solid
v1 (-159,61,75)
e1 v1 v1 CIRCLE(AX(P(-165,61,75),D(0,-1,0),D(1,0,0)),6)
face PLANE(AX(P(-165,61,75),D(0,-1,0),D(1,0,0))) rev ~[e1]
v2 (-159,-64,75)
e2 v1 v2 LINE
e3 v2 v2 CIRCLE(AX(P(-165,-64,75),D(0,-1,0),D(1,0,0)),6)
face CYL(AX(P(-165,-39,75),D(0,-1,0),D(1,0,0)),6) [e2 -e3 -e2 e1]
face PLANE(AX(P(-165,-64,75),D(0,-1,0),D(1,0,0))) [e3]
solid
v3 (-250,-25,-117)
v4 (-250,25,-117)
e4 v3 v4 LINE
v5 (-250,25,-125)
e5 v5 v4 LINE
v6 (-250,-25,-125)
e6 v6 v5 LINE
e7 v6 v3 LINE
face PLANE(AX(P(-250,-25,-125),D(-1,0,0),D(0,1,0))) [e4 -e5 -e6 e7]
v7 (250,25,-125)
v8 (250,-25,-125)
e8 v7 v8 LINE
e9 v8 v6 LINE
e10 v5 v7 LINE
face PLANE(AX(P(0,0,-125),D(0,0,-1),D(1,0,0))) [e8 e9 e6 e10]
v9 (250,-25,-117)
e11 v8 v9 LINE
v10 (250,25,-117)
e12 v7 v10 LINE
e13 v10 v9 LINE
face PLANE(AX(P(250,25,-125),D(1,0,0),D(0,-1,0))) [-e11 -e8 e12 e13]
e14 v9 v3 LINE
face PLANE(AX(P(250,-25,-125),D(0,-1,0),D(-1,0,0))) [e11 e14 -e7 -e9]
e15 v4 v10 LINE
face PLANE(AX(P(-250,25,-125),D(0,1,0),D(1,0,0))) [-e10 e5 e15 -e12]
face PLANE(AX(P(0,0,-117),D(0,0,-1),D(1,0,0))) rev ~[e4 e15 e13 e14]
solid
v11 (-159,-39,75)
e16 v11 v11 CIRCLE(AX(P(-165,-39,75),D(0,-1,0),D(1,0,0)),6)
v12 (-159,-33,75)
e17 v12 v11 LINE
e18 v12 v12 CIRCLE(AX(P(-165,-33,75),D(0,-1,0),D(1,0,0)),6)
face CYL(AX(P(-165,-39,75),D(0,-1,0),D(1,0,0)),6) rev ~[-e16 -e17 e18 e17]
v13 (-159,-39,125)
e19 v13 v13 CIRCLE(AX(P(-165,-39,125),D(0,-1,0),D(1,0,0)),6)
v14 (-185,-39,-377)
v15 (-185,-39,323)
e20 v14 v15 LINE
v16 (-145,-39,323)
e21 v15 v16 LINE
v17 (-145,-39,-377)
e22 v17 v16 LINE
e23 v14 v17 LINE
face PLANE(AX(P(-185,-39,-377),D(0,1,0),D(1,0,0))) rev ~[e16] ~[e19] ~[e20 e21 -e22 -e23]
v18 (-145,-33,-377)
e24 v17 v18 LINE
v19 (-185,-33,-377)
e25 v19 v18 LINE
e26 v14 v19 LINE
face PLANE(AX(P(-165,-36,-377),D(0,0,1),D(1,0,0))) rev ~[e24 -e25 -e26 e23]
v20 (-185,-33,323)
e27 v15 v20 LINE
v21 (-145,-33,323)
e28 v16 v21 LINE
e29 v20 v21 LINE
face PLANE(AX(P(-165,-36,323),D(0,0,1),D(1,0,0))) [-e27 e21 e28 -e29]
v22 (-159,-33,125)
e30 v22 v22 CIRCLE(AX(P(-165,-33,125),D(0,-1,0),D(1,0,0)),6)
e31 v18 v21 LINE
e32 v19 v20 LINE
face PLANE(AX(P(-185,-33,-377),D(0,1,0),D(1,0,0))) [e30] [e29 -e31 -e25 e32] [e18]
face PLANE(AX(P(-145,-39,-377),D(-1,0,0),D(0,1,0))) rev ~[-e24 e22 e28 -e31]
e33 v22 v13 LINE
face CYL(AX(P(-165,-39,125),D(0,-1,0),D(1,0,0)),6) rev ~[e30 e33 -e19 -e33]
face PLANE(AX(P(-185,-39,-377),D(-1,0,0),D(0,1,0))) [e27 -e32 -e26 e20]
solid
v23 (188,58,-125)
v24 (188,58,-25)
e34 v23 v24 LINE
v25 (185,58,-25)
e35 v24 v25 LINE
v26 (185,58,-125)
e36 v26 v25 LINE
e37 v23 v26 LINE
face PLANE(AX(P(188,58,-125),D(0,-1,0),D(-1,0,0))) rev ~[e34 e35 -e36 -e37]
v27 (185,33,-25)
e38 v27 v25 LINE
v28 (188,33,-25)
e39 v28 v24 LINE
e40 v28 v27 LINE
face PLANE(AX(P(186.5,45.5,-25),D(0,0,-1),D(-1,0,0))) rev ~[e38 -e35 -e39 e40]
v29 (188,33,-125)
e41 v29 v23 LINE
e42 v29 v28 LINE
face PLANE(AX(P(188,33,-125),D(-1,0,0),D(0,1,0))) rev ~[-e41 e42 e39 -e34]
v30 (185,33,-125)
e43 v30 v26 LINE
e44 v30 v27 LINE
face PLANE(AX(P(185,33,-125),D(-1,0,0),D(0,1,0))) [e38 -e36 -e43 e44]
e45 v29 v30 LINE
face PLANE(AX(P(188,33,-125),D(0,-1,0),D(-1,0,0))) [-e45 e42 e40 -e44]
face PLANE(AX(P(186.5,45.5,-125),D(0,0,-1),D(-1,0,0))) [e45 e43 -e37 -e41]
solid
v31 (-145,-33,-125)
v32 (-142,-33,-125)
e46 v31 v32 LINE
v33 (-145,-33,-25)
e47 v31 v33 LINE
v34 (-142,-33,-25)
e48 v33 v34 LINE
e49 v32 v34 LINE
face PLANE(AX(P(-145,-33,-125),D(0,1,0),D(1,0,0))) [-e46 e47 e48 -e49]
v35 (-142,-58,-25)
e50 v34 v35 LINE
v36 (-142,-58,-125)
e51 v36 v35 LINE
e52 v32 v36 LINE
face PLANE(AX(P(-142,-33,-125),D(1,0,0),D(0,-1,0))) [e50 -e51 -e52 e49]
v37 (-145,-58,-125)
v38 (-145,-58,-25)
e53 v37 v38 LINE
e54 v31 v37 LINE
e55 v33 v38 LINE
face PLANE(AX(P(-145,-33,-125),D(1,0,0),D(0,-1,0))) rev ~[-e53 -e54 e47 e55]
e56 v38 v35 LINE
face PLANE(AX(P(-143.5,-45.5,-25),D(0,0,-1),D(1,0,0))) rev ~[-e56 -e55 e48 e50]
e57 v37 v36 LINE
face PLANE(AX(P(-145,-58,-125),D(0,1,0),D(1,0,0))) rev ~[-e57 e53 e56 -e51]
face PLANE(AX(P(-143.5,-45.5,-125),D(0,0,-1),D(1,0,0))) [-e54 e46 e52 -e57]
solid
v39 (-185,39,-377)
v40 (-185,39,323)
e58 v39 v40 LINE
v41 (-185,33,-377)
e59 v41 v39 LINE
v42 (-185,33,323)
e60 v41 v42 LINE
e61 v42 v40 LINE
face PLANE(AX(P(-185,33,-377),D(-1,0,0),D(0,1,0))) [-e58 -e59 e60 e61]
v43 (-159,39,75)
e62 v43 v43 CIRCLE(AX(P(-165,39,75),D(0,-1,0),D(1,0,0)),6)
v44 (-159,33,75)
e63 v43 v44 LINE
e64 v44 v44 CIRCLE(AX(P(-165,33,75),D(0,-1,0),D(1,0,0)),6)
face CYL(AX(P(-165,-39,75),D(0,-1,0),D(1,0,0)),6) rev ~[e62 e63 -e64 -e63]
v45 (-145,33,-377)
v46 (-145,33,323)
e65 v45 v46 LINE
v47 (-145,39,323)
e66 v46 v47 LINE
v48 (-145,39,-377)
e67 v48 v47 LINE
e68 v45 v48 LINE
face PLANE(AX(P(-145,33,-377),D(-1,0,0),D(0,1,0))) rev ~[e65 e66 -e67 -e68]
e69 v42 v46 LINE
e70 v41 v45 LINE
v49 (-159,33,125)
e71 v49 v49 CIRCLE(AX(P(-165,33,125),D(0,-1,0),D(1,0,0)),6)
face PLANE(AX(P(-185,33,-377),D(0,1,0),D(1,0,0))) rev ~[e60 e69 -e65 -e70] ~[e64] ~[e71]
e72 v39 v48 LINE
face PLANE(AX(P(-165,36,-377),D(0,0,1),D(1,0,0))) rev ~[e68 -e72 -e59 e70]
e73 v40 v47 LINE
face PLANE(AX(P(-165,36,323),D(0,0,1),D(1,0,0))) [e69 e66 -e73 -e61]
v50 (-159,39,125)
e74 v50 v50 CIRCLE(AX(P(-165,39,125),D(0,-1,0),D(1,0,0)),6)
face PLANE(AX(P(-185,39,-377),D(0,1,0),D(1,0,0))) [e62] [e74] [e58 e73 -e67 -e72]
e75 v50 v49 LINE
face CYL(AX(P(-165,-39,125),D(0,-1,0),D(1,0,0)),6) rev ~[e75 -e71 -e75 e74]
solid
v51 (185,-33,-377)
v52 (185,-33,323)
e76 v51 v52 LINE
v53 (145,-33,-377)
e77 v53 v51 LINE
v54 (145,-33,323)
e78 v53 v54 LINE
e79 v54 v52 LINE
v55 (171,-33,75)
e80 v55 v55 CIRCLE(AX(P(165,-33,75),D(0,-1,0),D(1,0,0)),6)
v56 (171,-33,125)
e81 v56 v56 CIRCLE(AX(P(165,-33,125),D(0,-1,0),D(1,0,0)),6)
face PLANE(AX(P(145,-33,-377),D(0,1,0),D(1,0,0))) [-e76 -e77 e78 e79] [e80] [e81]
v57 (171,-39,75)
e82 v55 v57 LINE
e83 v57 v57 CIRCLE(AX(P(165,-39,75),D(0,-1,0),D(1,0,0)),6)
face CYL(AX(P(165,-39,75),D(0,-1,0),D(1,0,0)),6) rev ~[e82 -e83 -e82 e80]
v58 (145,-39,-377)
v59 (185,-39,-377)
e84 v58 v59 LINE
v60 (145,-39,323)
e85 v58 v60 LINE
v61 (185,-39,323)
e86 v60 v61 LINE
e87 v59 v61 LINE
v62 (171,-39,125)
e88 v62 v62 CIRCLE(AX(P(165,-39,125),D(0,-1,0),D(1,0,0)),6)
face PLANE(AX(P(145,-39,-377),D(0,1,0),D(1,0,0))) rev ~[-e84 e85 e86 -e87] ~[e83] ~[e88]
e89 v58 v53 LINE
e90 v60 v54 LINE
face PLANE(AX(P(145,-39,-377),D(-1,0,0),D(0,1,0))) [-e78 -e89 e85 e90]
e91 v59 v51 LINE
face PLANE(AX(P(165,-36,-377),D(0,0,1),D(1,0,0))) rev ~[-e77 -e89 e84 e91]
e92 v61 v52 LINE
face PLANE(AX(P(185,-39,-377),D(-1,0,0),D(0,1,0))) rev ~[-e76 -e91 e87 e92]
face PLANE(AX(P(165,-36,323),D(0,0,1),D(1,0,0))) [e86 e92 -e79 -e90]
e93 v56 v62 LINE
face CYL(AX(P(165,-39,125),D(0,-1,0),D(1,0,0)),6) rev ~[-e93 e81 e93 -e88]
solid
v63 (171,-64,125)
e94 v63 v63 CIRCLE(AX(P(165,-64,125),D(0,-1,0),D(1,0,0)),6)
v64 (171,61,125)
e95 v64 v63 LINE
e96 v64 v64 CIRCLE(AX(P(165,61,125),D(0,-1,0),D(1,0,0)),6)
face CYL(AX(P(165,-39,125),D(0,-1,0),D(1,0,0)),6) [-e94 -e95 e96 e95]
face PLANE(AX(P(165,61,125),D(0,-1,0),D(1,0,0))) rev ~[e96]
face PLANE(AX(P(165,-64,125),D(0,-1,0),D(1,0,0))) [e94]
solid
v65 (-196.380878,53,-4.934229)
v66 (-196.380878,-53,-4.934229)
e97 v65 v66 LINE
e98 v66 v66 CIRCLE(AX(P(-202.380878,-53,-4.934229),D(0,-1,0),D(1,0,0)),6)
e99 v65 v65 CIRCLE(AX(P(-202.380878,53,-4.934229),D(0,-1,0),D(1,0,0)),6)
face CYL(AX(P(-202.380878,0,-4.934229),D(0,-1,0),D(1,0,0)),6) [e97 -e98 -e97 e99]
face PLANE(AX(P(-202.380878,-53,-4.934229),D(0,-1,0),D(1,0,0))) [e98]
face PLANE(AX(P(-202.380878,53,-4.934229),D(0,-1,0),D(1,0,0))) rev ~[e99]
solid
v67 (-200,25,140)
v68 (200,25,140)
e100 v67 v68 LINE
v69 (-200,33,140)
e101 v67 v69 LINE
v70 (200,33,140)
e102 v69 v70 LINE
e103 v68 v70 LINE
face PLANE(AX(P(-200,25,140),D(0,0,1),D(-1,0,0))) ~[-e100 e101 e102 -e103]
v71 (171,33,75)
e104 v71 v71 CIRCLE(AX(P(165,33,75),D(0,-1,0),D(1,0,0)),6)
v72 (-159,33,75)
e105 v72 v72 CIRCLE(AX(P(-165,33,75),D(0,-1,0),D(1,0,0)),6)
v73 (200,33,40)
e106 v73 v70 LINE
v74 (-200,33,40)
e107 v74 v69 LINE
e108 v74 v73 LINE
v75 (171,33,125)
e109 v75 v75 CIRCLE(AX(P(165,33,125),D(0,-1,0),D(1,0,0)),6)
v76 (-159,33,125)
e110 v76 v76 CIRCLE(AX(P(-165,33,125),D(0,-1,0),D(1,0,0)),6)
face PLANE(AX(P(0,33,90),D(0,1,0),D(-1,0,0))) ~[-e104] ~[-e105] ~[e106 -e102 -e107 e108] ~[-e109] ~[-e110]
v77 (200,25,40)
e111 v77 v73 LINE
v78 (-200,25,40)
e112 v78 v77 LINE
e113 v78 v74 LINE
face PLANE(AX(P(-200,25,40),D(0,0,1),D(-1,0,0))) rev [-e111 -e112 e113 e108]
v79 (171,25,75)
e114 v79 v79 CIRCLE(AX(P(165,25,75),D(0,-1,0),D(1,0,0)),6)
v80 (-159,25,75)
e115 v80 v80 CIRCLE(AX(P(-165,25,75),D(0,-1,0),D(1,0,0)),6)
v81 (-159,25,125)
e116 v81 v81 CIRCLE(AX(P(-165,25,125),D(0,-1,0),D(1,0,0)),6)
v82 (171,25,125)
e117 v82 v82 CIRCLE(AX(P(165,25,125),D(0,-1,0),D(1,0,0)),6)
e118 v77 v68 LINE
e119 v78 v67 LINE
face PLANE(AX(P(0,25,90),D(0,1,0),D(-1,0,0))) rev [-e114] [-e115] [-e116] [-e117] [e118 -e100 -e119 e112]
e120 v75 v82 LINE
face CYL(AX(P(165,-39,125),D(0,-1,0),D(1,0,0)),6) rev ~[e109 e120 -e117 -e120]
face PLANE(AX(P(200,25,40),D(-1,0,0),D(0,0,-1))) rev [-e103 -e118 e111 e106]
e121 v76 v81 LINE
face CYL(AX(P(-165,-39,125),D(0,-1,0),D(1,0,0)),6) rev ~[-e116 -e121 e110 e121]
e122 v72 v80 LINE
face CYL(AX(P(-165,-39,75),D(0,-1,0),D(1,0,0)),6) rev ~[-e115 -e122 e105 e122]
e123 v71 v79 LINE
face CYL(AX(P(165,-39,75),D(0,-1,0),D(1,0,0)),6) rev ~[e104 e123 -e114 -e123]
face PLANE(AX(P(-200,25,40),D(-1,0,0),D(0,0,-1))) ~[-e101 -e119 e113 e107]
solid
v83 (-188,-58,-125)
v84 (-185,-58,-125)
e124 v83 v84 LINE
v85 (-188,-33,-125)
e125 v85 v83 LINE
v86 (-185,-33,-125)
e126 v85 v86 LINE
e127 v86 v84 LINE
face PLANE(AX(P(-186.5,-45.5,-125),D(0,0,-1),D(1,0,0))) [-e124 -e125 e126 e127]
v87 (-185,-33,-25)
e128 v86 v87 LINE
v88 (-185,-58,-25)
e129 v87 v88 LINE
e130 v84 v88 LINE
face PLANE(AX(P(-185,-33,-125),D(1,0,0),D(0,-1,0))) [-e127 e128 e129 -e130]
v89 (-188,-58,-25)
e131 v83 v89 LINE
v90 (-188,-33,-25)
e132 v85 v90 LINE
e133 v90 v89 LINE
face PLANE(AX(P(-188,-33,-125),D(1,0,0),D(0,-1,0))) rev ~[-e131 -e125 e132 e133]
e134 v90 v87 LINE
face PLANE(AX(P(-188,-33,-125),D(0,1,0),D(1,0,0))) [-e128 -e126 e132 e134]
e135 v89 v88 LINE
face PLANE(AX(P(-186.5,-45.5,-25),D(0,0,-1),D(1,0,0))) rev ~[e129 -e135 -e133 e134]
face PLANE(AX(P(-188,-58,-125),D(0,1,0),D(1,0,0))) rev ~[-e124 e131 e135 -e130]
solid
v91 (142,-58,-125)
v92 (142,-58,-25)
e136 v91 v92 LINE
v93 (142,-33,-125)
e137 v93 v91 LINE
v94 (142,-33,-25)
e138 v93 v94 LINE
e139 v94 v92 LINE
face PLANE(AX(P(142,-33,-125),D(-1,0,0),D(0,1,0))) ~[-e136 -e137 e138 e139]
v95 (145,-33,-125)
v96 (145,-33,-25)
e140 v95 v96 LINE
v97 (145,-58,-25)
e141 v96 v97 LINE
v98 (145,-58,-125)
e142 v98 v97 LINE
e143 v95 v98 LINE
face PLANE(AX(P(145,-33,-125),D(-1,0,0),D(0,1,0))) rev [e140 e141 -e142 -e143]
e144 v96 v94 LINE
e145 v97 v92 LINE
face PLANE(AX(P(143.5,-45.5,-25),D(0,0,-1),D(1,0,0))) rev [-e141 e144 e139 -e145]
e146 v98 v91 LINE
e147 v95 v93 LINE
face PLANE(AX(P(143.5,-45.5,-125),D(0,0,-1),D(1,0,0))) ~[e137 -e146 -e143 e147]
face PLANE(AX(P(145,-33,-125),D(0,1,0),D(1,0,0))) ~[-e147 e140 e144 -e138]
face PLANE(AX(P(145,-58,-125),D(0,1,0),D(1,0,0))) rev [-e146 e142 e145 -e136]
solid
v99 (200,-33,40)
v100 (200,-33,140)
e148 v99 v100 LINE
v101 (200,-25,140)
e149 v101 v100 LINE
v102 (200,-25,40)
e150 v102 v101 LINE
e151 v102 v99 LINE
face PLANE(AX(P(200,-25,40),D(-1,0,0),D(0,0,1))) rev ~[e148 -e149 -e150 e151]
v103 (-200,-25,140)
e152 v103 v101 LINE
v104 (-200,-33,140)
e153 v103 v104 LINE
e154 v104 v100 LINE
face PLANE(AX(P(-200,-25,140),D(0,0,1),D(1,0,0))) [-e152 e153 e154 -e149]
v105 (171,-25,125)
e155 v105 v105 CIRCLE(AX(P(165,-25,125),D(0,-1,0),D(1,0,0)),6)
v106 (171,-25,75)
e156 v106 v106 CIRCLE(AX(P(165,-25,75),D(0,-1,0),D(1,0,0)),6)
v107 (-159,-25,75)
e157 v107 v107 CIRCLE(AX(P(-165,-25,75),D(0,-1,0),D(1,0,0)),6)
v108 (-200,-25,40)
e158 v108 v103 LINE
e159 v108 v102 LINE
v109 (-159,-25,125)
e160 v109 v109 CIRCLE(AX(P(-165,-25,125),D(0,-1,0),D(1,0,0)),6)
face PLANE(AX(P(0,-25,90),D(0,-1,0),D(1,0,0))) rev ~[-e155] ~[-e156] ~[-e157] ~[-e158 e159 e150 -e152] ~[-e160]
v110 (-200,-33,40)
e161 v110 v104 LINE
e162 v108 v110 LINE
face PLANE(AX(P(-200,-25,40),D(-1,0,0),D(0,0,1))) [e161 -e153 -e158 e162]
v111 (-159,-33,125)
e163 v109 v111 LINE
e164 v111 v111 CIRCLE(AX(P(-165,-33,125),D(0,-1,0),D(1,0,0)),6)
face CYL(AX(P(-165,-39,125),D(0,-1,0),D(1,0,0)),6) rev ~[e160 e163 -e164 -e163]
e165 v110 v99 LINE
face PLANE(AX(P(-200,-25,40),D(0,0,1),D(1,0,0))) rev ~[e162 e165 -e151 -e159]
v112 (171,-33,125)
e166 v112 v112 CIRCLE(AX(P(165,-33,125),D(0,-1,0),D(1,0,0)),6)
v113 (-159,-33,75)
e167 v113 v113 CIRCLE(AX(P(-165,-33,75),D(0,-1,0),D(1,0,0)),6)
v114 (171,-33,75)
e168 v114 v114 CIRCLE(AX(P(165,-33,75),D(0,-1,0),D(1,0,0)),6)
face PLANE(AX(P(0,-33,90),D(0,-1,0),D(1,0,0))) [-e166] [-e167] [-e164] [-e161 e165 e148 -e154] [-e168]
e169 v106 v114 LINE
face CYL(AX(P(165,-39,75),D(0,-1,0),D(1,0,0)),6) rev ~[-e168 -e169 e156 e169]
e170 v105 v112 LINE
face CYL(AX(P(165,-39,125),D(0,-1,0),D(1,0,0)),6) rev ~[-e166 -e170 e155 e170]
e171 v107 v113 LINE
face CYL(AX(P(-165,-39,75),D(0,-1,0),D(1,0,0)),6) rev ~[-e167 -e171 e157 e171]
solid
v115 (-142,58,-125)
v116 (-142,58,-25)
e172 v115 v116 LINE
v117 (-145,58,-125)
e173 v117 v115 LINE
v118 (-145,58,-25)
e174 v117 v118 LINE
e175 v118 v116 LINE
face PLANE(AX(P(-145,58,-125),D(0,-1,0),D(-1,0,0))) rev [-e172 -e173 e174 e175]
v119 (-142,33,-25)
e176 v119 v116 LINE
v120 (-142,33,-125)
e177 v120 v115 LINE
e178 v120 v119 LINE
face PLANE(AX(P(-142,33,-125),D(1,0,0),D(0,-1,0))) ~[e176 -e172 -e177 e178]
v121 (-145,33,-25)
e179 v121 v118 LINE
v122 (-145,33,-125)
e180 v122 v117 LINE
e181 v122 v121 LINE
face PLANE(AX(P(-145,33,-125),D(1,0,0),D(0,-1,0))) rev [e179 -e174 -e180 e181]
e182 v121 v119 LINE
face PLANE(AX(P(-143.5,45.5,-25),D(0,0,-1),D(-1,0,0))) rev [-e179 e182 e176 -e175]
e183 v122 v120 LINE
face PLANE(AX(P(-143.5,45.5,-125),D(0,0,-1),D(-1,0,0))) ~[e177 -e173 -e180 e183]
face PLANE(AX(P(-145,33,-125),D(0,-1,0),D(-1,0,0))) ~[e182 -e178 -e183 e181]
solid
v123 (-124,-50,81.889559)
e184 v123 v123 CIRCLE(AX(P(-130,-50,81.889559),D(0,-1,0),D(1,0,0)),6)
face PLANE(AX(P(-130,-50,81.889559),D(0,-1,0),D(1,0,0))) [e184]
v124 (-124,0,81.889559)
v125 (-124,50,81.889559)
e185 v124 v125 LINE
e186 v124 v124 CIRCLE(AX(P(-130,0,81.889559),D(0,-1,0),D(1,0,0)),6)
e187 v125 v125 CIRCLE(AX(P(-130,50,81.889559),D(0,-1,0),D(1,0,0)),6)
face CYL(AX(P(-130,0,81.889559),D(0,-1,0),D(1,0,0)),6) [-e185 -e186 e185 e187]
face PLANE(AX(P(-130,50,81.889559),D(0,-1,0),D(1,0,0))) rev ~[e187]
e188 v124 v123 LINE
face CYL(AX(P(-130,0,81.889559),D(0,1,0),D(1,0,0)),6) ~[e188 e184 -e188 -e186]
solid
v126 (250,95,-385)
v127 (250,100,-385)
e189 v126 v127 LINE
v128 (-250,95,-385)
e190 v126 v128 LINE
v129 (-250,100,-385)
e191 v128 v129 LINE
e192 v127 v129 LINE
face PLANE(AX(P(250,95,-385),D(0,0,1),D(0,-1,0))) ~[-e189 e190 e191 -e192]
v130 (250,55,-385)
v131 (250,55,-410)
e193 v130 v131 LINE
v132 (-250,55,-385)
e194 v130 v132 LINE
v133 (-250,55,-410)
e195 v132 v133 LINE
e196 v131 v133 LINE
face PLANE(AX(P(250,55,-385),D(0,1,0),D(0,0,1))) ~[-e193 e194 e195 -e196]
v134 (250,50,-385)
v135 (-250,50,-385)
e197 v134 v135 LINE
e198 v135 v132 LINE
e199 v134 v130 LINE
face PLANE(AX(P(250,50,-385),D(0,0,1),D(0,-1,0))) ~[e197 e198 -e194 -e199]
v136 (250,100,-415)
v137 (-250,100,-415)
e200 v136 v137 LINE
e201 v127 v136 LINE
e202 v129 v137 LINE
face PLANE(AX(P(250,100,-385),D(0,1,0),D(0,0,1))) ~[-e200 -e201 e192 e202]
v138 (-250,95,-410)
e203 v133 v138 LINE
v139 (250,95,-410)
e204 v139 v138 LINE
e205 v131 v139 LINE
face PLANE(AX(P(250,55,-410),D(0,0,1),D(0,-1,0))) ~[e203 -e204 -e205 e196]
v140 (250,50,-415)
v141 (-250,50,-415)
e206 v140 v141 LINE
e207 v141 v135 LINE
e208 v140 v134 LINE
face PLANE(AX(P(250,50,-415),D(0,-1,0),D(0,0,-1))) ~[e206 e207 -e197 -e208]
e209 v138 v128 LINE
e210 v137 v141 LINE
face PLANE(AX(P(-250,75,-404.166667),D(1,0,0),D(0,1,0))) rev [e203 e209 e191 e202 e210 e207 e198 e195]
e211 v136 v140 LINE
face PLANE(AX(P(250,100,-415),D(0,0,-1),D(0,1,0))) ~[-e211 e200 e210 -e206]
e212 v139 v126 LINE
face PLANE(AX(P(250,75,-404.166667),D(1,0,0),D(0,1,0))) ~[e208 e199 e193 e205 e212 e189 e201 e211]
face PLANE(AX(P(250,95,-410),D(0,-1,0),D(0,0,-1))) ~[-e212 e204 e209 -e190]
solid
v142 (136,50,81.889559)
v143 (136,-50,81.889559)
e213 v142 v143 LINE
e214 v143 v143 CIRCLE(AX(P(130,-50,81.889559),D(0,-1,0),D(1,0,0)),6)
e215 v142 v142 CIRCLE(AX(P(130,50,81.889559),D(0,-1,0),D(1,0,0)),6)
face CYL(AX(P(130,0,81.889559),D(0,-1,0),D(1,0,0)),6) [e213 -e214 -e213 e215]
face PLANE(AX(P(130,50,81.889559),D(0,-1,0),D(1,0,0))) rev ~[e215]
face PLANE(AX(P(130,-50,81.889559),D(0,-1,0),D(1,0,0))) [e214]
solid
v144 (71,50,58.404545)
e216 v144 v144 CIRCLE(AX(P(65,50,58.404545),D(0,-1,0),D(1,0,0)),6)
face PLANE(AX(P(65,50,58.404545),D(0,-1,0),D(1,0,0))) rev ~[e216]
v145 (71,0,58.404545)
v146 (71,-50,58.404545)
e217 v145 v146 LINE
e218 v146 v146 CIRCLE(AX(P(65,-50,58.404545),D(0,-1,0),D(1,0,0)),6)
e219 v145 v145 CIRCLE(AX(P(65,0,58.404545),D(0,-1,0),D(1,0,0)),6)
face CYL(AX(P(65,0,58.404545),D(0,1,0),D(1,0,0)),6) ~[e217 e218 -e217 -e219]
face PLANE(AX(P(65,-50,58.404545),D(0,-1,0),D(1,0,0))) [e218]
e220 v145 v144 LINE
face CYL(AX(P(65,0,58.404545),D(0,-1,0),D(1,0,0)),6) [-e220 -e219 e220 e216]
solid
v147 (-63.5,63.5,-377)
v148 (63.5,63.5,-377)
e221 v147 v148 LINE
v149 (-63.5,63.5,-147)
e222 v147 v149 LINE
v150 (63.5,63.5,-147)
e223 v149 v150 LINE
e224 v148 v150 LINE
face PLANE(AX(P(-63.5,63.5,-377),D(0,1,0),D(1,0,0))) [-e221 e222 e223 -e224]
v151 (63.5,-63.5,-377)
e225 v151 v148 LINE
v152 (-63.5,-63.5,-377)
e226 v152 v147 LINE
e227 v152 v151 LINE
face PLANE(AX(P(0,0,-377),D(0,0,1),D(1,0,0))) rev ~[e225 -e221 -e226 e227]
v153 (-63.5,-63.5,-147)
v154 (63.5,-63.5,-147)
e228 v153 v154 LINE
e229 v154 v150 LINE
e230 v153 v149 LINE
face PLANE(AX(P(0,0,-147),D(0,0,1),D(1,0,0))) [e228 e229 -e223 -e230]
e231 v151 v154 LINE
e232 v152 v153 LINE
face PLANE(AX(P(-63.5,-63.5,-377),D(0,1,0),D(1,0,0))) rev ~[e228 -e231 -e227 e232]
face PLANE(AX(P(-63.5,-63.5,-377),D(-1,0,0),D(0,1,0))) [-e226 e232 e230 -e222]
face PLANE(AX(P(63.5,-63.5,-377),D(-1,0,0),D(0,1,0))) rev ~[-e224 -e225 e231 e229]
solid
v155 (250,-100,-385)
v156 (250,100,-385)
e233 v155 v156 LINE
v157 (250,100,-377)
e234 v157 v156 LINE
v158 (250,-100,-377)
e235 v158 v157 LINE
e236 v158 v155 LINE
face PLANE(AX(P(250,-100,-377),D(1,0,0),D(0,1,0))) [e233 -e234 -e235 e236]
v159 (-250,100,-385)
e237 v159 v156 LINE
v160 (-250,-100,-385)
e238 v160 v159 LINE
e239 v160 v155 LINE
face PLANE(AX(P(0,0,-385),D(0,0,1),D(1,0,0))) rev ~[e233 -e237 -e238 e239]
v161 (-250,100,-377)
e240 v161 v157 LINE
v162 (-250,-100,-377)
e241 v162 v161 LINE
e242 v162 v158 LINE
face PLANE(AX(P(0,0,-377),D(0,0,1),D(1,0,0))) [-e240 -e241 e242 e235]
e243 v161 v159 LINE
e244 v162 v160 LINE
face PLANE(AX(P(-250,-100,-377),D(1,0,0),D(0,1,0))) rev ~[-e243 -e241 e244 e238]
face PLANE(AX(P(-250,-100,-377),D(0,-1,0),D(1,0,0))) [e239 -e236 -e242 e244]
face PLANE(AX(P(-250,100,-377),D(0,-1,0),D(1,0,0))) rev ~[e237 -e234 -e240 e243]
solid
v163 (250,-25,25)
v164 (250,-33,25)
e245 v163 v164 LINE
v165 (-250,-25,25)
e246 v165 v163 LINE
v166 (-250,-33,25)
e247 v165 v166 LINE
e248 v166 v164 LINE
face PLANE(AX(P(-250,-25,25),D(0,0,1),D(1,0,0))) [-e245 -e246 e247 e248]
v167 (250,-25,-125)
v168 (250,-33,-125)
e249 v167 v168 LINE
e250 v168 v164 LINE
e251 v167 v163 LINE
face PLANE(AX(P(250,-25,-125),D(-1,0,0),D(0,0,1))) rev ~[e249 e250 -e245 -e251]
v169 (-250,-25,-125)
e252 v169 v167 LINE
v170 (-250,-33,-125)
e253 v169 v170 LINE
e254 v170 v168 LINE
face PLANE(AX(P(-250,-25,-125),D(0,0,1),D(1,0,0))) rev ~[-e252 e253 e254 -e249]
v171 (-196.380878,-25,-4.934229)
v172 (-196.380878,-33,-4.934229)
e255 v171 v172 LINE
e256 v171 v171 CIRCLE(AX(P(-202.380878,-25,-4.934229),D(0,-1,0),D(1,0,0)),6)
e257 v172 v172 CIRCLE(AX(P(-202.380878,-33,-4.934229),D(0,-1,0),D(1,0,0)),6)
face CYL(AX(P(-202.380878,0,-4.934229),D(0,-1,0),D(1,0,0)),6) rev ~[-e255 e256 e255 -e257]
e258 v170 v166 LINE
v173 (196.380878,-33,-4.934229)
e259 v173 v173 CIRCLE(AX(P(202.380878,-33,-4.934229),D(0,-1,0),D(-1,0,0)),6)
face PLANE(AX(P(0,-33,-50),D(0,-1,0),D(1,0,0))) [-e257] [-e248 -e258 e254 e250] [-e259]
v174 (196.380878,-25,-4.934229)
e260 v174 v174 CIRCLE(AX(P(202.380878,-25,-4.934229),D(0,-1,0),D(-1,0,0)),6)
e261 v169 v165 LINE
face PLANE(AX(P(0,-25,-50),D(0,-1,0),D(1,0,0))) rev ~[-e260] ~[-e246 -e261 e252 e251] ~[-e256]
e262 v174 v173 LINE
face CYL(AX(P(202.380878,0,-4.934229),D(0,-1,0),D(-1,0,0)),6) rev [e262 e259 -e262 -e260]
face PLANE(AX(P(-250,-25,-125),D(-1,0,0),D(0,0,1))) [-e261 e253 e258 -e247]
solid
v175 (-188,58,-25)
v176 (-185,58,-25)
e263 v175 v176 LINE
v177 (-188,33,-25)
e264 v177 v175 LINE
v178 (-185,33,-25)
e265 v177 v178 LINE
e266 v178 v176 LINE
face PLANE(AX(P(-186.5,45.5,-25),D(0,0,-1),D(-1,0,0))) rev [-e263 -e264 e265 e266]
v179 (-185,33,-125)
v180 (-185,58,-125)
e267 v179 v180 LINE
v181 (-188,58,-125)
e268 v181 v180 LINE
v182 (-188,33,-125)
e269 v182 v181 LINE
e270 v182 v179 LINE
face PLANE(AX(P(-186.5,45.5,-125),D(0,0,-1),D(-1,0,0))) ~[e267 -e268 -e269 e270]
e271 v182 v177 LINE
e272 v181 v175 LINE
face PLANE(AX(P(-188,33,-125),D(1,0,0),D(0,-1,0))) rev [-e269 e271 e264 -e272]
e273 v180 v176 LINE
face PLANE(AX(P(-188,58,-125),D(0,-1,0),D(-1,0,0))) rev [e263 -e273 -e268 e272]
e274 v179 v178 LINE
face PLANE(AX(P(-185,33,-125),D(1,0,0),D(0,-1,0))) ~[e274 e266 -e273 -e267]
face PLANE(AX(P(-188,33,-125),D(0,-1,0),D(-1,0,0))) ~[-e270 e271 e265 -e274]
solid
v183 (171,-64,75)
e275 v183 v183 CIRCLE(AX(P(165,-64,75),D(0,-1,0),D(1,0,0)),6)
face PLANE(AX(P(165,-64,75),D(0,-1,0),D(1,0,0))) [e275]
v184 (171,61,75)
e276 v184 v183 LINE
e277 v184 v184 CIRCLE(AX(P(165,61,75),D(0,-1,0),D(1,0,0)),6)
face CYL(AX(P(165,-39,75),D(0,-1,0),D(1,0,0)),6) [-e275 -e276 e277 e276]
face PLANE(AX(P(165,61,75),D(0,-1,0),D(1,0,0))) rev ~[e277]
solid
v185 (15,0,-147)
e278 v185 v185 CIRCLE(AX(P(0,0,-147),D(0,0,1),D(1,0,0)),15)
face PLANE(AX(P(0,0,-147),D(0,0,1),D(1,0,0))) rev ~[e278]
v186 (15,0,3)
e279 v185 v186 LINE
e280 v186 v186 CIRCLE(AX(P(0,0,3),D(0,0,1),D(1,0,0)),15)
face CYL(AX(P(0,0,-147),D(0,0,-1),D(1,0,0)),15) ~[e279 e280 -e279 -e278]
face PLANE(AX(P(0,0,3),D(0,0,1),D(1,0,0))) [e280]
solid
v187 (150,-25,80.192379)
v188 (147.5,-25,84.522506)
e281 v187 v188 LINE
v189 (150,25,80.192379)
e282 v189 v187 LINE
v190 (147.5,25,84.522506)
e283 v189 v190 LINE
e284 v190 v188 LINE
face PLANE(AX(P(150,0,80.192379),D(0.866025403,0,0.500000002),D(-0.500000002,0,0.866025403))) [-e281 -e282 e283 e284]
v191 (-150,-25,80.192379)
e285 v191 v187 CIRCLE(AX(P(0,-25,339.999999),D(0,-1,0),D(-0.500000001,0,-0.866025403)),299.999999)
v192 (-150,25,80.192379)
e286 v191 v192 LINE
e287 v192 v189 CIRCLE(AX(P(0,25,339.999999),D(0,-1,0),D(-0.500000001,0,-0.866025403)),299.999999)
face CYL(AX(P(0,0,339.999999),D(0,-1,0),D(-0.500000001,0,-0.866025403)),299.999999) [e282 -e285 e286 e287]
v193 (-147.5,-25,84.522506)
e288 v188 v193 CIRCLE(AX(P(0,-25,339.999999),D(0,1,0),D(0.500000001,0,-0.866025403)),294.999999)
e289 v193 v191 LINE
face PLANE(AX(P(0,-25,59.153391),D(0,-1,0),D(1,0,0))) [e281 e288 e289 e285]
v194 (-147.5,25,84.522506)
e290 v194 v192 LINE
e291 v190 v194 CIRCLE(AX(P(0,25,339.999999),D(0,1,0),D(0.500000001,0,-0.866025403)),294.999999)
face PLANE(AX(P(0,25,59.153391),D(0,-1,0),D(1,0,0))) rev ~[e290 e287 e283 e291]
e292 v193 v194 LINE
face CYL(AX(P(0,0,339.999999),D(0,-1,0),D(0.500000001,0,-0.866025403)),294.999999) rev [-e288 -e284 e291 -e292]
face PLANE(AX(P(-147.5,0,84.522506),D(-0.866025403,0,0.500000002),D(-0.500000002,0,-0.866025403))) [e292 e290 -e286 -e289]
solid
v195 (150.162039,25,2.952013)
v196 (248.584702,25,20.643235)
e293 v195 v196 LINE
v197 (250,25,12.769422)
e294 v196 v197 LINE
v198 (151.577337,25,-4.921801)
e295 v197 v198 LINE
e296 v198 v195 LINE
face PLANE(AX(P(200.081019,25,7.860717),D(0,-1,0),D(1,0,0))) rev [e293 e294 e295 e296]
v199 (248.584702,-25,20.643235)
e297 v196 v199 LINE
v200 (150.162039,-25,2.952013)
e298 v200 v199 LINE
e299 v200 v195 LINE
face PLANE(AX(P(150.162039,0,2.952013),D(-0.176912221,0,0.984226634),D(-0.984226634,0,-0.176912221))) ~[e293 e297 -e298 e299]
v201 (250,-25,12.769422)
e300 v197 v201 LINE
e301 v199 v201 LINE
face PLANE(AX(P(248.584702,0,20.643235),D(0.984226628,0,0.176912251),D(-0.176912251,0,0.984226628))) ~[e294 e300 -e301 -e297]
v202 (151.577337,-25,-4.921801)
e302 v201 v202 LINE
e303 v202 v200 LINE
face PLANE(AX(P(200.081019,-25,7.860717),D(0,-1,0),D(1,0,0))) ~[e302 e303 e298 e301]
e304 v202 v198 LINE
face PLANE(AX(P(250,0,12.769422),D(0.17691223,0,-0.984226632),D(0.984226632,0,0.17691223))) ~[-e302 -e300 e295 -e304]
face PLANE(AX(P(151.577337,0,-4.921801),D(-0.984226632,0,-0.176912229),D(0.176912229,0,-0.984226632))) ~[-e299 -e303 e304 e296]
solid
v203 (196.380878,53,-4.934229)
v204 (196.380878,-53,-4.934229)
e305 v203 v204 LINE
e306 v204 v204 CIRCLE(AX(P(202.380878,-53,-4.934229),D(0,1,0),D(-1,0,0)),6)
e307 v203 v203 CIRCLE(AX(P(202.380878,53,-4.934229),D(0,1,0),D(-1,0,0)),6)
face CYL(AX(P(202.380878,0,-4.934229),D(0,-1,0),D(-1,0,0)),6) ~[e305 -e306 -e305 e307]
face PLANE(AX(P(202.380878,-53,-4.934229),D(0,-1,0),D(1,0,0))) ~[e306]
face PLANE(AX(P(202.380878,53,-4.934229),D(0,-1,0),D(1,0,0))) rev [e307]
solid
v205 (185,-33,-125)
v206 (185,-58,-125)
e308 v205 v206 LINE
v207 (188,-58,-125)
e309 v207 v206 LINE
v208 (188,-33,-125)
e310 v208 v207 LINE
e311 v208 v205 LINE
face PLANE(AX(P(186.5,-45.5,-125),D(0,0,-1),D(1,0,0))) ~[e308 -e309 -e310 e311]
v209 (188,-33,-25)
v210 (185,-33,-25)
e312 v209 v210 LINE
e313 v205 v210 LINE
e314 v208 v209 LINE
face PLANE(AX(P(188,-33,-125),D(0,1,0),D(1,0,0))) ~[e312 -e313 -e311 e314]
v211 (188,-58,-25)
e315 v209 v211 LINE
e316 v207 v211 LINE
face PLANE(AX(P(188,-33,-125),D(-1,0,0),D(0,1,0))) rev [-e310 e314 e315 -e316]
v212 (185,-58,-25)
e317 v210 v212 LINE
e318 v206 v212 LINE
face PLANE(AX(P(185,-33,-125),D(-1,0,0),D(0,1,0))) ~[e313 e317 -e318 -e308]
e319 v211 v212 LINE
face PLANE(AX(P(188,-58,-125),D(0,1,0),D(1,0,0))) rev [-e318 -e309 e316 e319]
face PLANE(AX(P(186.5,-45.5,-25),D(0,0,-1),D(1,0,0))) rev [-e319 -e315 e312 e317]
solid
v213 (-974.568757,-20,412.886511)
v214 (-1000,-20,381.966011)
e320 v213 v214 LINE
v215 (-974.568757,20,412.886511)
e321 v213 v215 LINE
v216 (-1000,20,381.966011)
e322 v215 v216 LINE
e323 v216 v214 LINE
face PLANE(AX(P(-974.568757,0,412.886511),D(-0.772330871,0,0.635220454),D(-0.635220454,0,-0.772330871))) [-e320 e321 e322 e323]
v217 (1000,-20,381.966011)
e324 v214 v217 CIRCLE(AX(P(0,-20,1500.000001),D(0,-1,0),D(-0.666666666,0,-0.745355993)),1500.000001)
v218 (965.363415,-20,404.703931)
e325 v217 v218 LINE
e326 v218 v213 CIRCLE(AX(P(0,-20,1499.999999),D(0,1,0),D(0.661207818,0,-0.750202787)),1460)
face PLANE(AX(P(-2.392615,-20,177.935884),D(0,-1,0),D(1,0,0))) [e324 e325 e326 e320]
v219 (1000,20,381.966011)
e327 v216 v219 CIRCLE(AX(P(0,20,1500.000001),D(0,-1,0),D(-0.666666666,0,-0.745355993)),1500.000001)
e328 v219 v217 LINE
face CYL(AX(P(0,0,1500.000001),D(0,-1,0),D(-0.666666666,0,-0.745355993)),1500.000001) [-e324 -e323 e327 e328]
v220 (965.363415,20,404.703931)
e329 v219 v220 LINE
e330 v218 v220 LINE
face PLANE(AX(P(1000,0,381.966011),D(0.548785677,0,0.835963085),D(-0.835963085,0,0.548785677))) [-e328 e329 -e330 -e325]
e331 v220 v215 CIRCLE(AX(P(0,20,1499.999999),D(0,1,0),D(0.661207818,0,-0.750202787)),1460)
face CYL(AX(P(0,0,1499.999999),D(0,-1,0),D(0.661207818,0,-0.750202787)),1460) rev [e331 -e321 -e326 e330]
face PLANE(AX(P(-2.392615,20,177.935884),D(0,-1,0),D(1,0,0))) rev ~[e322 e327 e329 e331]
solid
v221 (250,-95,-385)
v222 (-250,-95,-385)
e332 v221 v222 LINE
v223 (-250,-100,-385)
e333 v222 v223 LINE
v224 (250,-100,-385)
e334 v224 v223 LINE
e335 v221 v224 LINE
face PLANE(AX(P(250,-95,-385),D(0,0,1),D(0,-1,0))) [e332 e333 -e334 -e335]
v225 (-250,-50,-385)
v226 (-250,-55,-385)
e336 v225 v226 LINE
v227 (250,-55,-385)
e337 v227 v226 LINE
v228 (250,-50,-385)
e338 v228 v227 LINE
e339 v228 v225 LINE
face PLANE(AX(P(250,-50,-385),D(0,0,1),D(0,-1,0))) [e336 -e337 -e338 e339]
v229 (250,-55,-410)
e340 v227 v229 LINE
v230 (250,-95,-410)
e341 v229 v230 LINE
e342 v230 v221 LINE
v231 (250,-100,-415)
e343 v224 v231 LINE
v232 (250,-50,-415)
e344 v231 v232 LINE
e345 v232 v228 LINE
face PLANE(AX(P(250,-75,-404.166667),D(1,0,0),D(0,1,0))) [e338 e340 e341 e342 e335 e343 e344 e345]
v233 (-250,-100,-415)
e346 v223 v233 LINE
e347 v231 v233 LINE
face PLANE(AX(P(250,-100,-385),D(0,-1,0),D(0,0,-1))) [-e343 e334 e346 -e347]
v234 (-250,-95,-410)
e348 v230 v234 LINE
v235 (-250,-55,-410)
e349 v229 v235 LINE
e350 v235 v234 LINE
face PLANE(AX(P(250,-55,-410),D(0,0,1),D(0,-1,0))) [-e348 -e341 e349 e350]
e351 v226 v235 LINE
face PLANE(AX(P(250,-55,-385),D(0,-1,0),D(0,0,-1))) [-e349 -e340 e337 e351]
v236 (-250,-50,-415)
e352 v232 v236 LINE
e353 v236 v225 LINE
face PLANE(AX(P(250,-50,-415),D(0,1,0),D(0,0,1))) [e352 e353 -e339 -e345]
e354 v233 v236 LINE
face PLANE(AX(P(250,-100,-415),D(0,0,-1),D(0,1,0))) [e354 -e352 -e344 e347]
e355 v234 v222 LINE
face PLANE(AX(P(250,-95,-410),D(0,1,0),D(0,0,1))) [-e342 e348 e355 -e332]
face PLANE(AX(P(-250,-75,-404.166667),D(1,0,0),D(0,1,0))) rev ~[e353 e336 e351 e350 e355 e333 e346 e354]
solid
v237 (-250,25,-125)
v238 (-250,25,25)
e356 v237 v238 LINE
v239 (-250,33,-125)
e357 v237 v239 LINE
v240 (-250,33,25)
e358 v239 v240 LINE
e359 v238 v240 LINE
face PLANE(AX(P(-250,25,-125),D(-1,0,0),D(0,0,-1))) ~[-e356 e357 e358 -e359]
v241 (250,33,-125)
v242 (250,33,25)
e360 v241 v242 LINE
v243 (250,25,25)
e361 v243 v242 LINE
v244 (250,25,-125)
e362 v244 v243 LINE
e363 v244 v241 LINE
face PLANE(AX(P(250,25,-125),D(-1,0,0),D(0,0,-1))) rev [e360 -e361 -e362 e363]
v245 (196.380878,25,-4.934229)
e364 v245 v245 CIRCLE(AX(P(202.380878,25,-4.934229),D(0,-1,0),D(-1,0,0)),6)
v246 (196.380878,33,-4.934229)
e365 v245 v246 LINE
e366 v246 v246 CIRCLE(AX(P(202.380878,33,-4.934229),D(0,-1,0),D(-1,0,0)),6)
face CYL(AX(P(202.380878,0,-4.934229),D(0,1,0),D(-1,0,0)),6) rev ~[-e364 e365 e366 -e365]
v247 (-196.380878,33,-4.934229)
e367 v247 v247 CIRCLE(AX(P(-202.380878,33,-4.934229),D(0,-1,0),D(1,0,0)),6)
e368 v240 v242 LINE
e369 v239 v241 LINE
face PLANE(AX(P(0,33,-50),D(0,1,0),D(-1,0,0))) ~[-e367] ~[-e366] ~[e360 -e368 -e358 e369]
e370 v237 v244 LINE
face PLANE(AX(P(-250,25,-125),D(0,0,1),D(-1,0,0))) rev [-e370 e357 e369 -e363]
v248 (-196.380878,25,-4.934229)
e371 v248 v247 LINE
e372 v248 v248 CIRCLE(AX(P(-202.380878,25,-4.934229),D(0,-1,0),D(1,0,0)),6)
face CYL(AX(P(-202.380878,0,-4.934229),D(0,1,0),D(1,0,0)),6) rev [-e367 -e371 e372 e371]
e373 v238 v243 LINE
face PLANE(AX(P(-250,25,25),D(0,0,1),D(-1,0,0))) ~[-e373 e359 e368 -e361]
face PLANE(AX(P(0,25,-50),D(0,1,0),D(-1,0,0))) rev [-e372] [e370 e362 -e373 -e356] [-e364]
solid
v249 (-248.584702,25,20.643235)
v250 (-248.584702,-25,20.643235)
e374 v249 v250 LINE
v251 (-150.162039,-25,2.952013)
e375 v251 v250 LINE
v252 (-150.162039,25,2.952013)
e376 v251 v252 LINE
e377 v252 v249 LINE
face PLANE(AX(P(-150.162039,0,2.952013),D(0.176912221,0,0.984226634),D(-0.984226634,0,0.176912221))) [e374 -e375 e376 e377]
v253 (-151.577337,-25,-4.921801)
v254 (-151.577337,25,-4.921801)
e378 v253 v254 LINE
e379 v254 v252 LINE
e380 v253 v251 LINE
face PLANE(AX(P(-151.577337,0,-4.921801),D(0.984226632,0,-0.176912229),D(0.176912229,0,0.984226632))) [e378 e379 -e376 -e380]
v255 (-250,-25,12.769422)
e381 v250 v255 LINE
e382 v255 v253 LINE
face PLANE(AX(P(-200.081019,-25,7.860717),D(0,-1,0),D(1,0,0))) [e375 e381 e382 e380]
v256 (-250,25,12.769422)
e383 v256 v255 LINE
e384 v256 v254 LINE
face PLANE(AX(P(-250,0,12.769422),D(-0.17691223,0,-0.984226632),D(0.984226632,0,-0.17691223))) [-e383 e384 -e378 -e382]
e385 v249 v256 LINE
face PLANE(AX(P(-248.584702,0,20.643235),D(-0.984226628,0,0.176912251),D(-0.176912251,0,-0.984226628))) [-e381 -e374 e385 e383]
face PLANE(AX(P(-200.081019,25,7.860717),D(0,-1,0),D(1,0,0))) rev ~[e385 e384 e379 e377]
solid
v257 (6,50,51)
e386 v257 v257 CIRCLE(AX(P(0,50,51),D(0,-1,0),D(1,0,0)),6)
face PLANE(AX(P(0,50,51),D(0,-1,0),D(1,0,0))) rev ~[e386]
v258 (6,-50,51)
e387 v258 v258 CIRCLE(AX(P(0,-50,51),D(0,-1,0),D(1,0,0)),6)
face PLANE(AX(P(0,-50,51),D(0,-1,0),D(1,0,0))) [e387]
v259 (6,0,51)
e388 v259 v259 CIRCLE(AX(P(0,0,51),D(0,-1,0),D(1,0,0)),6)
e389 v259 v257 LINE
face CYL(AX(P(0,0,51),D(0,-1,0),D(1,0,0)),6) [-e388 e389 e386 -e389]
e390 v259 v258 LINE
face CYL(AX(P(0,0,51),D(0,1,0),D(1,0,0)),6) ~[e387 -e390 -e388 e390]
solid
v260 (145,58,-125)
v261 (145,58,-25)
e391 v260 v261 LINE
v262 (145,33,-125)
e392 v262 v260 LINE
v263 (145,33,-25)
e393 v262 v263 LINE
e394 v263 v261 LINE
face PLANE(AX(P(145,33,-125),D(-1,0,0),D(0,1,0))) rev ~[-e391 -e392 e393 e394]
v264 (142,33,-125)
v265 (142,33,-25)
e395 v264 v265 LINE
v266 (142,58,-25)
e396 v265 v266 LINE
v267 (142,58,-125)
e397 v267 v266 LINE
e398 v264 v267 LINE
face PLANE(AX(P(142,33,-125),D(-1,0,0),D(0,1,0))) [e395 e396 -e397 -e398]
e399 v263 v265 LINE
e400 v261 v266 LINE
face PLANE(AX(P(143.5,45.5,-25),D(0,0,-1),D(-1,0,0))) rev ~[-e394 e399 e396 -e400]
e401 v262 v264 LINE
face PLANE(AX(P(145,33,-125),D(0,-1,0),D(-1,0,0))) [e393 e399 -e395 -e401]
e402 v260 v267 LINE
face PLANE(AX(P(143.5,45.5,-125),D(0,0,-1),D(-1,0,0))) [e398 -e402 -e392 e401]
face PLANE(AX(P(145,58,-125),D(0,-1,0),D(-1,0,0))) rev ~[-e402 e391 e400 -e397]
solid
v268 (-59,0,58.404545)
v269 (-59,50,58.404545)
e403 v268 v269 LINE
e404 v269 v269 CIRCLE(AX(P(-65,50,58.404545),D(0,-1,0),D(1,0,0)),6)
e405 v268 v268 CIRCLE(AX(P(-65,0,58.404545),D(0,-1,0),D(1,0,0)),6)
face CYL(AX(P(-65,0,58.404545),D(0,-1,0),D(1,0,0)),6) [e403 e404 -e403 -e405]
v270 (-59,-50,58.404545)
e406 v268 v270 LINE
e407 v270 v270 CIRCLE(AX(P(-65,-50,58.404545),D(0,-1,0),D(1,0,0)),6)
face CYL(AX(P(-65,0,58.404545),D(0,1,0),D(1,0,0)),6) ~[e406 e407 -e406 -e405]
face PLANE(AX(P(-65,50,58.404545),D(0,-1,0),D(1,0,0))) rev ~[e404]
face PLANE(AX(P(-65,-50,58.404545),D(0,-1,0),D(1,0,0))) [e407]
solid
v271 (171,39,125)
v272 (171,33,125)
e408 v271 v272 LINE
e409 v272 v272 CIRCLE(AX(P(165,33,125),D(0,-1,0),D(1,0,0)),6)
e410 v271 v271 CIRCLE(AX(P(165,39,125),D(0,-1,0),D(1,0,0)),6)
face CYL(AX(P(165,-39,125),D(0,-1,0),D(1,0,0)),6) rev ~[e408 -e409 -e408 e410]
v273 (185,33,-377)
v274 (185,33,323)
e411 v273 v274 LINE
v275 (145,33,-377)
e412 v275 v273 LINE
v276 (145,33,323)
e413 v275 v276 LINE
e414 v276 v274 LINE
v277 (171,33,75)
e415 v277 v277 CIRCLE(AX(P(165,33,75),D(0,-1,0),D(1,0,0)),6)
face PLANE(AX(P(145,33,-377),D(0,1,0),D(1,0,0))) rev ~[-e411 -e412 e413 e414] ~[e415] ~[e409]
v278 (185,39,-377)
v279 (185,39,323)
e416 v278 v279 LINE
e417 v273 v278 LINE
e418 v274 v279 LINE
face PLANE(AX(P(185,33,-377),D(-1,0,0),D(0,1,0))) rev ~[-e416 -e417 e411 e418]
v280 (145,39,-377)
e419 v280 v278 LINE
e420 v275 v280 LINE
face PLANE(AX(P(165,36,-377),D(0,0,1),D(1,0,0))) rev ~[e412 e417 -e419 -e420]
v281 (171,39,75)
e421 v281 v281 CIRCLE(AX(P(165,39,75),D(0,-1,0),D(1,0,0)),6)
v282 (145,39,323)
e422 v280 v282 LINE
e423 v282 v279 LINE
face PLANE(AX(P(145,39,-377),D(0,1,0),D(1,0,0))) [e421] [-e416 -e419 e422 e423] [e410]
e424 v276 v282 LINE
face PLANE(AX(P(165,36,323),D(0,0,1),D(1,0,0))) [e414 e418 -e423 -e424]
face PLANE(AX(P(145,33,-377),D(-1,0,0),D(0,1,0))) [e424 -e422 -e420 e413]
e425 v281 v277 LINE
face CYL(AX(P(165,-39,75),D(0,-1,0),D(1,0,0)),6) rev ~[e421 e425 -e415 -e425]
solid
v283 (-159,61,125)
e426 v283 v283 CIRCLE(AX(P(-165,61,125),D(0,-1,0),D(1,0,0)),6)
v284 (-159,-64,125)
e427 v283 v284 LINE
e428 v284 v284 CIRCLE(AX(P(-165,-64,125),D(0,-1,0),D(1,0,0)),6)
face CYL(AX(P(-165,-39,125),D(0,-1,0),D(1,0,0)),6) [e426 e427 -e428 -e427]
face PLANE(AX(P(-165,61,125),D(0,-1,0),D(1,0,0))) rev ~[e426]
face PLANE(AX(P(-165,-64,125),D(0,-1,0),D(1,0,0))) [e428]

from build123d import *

# Parameters (mm, degrees)
F1_DEPTH       = 20
F3_DEPTH       = 25
F5_R           = 6
F6_DEPTH       = 53
F9_W           = 500
F9_H           = 150
F10_DEPTH      = 8
F13_W          = 400
F13_H          = 100
F14_DEPTH      = 8
F17_DEPTH      = 8
F19_DEPTH      = 25
F20_R          = 6
F21_DEPTH      = 50
F23_W          = 127
F23_H          = 127
F24_DEPTH      = 230
F25_R          = 15
F26_DEPTH      = 150
F27_W          = 500
F27_H          = 200
F28_DEPTH      = 8
F29_W          = 40
F29_H          = 6
F30_DEPTH      = 700
F31_R          = 6
F32_DEPTH      = 25
F32_DEPTH_BACK = 100
F34_W          = 3
F34_H          = 25
F35_DEPTH      = 100
F39_DEPTH      = 500


with BuildPart() as f1:
    # F0 (on Front) → F1 (new body, symmetric)
    with BuildSketch(Plane.XZ):
        with BuildLine():
            Line((-974.568757, 412.886511), (-1000, 381.966011))
            ThreePointArc((-1000, 381.966011), (0, 0), (1000, 381.966011))
            Line((1000, 381.966011), (965.363415, 404.703931))
            ThreePointArc((965.363415, 404.703931), (-6.158185, 40.012987), (-974.568757, 412.886511))
        make_face()
    extrude(amount=F1_DEPTH, both=True)


with BuildPart() as f3:
    # F2 (on Front) → F3 (new body, symmetric)
    with BuildSketch(Plane.XZ):
        Polygon((-150.162039, 2.952013), (-248.584702, 20.643235), (-250, 12.769422), (-151.577337, -4.921801), align=None)
    extrude(amount=F3_DEPTH, both=True)


with BuildPart() as f4_1:
    # F4: instance of F3
    add(f3.part.mirror(Plane.YZ))


with BuildPart() as f6:
    # F5 (on Front) → F6 (new body, symmetric)
    with BuildSketch(Plane.XZ):
        with Locations((-202.380878, -4.934229)):
            Circle(F5_R)
    extrude(amount=F6_DEPTH, both=True)


with BuildPart() as f7_1:
    # F7: instance of F6
    add(f6.part.mirror(Plane.YZ))


with BuildPart() as f10:
    # F9 (on offset) → F10 (new body)
    with BuildSketch(Plane.XZ.offset(25)):
        with Locations((0, -50)):
            Rectangle(F9_W, F9_H)
    extrude(amount=F10_DEPTH)

    # F11: cut F6, F7_1
    add(f6.part, mode=Mode.SUBTRACT)
    add(f7_1.part, mode=Mode.SUBTRACT)


with BuildPart() as f12_1:
    # F12: instance of F10
    add(f10.part.mirror(Plane.XZ))


with BuildPart() as f14:
    # F13 (on offset) → F14 (new body)
    with BuildSketch(Plane.XZ.offset(25)):
        with Locations((0, 90)):
            Rectangle(F13_W, F13_H)
    extrude(amount=F14_DEPTH)


with BuildPart() as f15_1:
    # F15: instance of F14
    add(f14.part.mirror(Plane.XZ))


with BuildPart() as f17:
    # F16 (on face) → F17 (new body)
    with BuildSketch(Plane(origin=(0, 0, -125), x_dir=(1, 0, 0), z_dir=(0, 0, -1))):
        Polygon((25, 25), (-25, 25), (-250, 25), (-250, -25), (-25, -25), (25, -25), (250, -25), (250, 25), align=None)
    extrude(amount=-F17_DEPTH)


with BuildPart() as f19:
    # F18 (on Front) → F19 (new body, symmetric)
    with BuildSketch(Plane.XZ):
        with BuildLine():
            ThreePointArc((-150, 80.192379), (0, 40), (150, 80.192379))
            Line((150, 80.192379), (147.5, 84.522506))
            ThreePointArc((147.5, 84.522506), (0, 45), (-147.5, 84.522506))
            Line((-147.5, 84.522506), (-150, 80.192379))
        make_face()
    extrude(amount=F19_DEPTH, both=True)


with BuildPart() as f21:
    # F20 (on Front) → F21 (new body, symmetric)
    with BuildSketch(Plane.XZ):
        with Locations((0, 51)):
            Circle(F20_R)
        with Locations((-65, 58.404545)):
            Circle(F20_R)
        with Locations((65, 58.404545)):
            Circle(F20_R)
        with Locations((-130, 81.889559)):
            Circle(F20_R)
        with Locations((130, 81.889559)):
            Circle(F20_R)
    extrude(amount=F21_DEPTH, both=True)


with BuildPart() as f24:
    # F23 (on offset) → F24 (new body)
    with BuildSketch(Plane.XY.offset(-377)):
        Rectangle(F23_W, F23_H)
    extrude(amount=F24_DEPTH)


with BuildPart() as f26:
    # F25 (on face) → F26 (new body)
    with BuildSketch(Plane.XY.offset(-147)):
        Circle(F25_R)
    extrude(amount=F26_DEPTH)


with BuildPart() as f28:
    # F27 (on offset) → F28 (new body)
    with BuildSketch(Plane.XY.offset(-377)):
        Rectangle(F27_W, F27_H)
    extrude(amount=-F28_DEPTH)


with BuildPart() as f30:
    # F29 (on face) → F30 (new body)
    with BuildSketch(Plane.XY.offset(-377)):
        with Locations((-165, 36)):
            Rectangle(F29_W, F29_H)
        with Locations((-165, -36)):
            Rectangle(F29_W, F29_H)
        with Locations((165, -36)):
            Rectangle(F29_W, F29_H)
        with Locations((165, 36)):
            Rectangle(F29_W, F29_H)
    extrude(amount=F30_DEPTH)


with BuildPart() as f32:
    # F31 (on face) → F32 (new body, two sides)
    with BuildSketch(Plane.XZ.offset(39)) as f32_sk:
        with Locations((-165, 125)):
            Circle(F31_R)
        with Locations((-165, 75)):
            Circle(F31_R)
        with Locations((165, 125)):
            Circle(F31_R)
        with Locations((165, 75)):
            Circle(F31_R)
    extrude(amount=F32_DEPTH)
    extrude(f32_sk.sketch, amount=-F32_DEPTH_BACK)


with BuildPart() as f30_1:
    add(f30.part)

    # F33: cut F32
    add(f32.part, mode=Mode.SUBTRACT)


with BuildPart() as f14_1:
    add(f14.part)

    # F33: cut F32
    add(f32.part, mode=Mode.SUBTRACT)


with BuildPart() as f15_1_1:
    add(f15_1.part)

    # F33: cut F32
    add(f32.part, mode=Mode.SUBTRACT)


with BuildPart() as f35:
    # F34 (on face) → F35 (new body)
    with BuildSketch(Plane(origin=(0, 0, -125), x_dir=(1, 0, 0), z_dir=(0, 0, -1))):
        with Locations((-186.5, 45.5)):
            Rectangle(F34_W, F34_H)
        with Locations((-143.5, 45.5)):
            Rectangle(F34_W, F34_H)
    extrude(amount=-F35_DEPTH)


with BuildPart() as f36_1:
    # F36: instance of F35
    add(f35.part.mirror(Plane.YZ))


with BuildPart() as f37_1:
    # F37: instance of F35
    add(f35.part.mirror(Plane.XZ))


with BuildPart() as f37_2:
    # F37: instance of F36_1
    add(f36_1.part.mirror(Plane.XZ))


with BuildPart() as f39:
    # F38 (on face) → F39 (new body, through all)
    with BuildSketch(Plane.YZ.offset(250)):
        Polygon((-95, -385), (-100, -385), (-100, -415), (-50, -415), (-50, -385), (-55, -385), (-55, -410), (-95, -410), align=None)
    extrude(amount=-F39_DEPTH)


with BuildPart() as f40_1:
    # F40: instance of F39
    add(f39.part.mirror(Plane.XZ))


solid = Compound([f1.part, f3.part, f4_1.part, f6.part, f7_1.part, f10.part, f12_1.part, f17.part, f19.part, f21.part, f24.part, f26.part, f28.part, f32.part, f30_1.part, f14_1.part, f15_1_1.part, f35.part, f36_1.part, f37_1.part, f37_2.part, f39.part, f40_1.part])
